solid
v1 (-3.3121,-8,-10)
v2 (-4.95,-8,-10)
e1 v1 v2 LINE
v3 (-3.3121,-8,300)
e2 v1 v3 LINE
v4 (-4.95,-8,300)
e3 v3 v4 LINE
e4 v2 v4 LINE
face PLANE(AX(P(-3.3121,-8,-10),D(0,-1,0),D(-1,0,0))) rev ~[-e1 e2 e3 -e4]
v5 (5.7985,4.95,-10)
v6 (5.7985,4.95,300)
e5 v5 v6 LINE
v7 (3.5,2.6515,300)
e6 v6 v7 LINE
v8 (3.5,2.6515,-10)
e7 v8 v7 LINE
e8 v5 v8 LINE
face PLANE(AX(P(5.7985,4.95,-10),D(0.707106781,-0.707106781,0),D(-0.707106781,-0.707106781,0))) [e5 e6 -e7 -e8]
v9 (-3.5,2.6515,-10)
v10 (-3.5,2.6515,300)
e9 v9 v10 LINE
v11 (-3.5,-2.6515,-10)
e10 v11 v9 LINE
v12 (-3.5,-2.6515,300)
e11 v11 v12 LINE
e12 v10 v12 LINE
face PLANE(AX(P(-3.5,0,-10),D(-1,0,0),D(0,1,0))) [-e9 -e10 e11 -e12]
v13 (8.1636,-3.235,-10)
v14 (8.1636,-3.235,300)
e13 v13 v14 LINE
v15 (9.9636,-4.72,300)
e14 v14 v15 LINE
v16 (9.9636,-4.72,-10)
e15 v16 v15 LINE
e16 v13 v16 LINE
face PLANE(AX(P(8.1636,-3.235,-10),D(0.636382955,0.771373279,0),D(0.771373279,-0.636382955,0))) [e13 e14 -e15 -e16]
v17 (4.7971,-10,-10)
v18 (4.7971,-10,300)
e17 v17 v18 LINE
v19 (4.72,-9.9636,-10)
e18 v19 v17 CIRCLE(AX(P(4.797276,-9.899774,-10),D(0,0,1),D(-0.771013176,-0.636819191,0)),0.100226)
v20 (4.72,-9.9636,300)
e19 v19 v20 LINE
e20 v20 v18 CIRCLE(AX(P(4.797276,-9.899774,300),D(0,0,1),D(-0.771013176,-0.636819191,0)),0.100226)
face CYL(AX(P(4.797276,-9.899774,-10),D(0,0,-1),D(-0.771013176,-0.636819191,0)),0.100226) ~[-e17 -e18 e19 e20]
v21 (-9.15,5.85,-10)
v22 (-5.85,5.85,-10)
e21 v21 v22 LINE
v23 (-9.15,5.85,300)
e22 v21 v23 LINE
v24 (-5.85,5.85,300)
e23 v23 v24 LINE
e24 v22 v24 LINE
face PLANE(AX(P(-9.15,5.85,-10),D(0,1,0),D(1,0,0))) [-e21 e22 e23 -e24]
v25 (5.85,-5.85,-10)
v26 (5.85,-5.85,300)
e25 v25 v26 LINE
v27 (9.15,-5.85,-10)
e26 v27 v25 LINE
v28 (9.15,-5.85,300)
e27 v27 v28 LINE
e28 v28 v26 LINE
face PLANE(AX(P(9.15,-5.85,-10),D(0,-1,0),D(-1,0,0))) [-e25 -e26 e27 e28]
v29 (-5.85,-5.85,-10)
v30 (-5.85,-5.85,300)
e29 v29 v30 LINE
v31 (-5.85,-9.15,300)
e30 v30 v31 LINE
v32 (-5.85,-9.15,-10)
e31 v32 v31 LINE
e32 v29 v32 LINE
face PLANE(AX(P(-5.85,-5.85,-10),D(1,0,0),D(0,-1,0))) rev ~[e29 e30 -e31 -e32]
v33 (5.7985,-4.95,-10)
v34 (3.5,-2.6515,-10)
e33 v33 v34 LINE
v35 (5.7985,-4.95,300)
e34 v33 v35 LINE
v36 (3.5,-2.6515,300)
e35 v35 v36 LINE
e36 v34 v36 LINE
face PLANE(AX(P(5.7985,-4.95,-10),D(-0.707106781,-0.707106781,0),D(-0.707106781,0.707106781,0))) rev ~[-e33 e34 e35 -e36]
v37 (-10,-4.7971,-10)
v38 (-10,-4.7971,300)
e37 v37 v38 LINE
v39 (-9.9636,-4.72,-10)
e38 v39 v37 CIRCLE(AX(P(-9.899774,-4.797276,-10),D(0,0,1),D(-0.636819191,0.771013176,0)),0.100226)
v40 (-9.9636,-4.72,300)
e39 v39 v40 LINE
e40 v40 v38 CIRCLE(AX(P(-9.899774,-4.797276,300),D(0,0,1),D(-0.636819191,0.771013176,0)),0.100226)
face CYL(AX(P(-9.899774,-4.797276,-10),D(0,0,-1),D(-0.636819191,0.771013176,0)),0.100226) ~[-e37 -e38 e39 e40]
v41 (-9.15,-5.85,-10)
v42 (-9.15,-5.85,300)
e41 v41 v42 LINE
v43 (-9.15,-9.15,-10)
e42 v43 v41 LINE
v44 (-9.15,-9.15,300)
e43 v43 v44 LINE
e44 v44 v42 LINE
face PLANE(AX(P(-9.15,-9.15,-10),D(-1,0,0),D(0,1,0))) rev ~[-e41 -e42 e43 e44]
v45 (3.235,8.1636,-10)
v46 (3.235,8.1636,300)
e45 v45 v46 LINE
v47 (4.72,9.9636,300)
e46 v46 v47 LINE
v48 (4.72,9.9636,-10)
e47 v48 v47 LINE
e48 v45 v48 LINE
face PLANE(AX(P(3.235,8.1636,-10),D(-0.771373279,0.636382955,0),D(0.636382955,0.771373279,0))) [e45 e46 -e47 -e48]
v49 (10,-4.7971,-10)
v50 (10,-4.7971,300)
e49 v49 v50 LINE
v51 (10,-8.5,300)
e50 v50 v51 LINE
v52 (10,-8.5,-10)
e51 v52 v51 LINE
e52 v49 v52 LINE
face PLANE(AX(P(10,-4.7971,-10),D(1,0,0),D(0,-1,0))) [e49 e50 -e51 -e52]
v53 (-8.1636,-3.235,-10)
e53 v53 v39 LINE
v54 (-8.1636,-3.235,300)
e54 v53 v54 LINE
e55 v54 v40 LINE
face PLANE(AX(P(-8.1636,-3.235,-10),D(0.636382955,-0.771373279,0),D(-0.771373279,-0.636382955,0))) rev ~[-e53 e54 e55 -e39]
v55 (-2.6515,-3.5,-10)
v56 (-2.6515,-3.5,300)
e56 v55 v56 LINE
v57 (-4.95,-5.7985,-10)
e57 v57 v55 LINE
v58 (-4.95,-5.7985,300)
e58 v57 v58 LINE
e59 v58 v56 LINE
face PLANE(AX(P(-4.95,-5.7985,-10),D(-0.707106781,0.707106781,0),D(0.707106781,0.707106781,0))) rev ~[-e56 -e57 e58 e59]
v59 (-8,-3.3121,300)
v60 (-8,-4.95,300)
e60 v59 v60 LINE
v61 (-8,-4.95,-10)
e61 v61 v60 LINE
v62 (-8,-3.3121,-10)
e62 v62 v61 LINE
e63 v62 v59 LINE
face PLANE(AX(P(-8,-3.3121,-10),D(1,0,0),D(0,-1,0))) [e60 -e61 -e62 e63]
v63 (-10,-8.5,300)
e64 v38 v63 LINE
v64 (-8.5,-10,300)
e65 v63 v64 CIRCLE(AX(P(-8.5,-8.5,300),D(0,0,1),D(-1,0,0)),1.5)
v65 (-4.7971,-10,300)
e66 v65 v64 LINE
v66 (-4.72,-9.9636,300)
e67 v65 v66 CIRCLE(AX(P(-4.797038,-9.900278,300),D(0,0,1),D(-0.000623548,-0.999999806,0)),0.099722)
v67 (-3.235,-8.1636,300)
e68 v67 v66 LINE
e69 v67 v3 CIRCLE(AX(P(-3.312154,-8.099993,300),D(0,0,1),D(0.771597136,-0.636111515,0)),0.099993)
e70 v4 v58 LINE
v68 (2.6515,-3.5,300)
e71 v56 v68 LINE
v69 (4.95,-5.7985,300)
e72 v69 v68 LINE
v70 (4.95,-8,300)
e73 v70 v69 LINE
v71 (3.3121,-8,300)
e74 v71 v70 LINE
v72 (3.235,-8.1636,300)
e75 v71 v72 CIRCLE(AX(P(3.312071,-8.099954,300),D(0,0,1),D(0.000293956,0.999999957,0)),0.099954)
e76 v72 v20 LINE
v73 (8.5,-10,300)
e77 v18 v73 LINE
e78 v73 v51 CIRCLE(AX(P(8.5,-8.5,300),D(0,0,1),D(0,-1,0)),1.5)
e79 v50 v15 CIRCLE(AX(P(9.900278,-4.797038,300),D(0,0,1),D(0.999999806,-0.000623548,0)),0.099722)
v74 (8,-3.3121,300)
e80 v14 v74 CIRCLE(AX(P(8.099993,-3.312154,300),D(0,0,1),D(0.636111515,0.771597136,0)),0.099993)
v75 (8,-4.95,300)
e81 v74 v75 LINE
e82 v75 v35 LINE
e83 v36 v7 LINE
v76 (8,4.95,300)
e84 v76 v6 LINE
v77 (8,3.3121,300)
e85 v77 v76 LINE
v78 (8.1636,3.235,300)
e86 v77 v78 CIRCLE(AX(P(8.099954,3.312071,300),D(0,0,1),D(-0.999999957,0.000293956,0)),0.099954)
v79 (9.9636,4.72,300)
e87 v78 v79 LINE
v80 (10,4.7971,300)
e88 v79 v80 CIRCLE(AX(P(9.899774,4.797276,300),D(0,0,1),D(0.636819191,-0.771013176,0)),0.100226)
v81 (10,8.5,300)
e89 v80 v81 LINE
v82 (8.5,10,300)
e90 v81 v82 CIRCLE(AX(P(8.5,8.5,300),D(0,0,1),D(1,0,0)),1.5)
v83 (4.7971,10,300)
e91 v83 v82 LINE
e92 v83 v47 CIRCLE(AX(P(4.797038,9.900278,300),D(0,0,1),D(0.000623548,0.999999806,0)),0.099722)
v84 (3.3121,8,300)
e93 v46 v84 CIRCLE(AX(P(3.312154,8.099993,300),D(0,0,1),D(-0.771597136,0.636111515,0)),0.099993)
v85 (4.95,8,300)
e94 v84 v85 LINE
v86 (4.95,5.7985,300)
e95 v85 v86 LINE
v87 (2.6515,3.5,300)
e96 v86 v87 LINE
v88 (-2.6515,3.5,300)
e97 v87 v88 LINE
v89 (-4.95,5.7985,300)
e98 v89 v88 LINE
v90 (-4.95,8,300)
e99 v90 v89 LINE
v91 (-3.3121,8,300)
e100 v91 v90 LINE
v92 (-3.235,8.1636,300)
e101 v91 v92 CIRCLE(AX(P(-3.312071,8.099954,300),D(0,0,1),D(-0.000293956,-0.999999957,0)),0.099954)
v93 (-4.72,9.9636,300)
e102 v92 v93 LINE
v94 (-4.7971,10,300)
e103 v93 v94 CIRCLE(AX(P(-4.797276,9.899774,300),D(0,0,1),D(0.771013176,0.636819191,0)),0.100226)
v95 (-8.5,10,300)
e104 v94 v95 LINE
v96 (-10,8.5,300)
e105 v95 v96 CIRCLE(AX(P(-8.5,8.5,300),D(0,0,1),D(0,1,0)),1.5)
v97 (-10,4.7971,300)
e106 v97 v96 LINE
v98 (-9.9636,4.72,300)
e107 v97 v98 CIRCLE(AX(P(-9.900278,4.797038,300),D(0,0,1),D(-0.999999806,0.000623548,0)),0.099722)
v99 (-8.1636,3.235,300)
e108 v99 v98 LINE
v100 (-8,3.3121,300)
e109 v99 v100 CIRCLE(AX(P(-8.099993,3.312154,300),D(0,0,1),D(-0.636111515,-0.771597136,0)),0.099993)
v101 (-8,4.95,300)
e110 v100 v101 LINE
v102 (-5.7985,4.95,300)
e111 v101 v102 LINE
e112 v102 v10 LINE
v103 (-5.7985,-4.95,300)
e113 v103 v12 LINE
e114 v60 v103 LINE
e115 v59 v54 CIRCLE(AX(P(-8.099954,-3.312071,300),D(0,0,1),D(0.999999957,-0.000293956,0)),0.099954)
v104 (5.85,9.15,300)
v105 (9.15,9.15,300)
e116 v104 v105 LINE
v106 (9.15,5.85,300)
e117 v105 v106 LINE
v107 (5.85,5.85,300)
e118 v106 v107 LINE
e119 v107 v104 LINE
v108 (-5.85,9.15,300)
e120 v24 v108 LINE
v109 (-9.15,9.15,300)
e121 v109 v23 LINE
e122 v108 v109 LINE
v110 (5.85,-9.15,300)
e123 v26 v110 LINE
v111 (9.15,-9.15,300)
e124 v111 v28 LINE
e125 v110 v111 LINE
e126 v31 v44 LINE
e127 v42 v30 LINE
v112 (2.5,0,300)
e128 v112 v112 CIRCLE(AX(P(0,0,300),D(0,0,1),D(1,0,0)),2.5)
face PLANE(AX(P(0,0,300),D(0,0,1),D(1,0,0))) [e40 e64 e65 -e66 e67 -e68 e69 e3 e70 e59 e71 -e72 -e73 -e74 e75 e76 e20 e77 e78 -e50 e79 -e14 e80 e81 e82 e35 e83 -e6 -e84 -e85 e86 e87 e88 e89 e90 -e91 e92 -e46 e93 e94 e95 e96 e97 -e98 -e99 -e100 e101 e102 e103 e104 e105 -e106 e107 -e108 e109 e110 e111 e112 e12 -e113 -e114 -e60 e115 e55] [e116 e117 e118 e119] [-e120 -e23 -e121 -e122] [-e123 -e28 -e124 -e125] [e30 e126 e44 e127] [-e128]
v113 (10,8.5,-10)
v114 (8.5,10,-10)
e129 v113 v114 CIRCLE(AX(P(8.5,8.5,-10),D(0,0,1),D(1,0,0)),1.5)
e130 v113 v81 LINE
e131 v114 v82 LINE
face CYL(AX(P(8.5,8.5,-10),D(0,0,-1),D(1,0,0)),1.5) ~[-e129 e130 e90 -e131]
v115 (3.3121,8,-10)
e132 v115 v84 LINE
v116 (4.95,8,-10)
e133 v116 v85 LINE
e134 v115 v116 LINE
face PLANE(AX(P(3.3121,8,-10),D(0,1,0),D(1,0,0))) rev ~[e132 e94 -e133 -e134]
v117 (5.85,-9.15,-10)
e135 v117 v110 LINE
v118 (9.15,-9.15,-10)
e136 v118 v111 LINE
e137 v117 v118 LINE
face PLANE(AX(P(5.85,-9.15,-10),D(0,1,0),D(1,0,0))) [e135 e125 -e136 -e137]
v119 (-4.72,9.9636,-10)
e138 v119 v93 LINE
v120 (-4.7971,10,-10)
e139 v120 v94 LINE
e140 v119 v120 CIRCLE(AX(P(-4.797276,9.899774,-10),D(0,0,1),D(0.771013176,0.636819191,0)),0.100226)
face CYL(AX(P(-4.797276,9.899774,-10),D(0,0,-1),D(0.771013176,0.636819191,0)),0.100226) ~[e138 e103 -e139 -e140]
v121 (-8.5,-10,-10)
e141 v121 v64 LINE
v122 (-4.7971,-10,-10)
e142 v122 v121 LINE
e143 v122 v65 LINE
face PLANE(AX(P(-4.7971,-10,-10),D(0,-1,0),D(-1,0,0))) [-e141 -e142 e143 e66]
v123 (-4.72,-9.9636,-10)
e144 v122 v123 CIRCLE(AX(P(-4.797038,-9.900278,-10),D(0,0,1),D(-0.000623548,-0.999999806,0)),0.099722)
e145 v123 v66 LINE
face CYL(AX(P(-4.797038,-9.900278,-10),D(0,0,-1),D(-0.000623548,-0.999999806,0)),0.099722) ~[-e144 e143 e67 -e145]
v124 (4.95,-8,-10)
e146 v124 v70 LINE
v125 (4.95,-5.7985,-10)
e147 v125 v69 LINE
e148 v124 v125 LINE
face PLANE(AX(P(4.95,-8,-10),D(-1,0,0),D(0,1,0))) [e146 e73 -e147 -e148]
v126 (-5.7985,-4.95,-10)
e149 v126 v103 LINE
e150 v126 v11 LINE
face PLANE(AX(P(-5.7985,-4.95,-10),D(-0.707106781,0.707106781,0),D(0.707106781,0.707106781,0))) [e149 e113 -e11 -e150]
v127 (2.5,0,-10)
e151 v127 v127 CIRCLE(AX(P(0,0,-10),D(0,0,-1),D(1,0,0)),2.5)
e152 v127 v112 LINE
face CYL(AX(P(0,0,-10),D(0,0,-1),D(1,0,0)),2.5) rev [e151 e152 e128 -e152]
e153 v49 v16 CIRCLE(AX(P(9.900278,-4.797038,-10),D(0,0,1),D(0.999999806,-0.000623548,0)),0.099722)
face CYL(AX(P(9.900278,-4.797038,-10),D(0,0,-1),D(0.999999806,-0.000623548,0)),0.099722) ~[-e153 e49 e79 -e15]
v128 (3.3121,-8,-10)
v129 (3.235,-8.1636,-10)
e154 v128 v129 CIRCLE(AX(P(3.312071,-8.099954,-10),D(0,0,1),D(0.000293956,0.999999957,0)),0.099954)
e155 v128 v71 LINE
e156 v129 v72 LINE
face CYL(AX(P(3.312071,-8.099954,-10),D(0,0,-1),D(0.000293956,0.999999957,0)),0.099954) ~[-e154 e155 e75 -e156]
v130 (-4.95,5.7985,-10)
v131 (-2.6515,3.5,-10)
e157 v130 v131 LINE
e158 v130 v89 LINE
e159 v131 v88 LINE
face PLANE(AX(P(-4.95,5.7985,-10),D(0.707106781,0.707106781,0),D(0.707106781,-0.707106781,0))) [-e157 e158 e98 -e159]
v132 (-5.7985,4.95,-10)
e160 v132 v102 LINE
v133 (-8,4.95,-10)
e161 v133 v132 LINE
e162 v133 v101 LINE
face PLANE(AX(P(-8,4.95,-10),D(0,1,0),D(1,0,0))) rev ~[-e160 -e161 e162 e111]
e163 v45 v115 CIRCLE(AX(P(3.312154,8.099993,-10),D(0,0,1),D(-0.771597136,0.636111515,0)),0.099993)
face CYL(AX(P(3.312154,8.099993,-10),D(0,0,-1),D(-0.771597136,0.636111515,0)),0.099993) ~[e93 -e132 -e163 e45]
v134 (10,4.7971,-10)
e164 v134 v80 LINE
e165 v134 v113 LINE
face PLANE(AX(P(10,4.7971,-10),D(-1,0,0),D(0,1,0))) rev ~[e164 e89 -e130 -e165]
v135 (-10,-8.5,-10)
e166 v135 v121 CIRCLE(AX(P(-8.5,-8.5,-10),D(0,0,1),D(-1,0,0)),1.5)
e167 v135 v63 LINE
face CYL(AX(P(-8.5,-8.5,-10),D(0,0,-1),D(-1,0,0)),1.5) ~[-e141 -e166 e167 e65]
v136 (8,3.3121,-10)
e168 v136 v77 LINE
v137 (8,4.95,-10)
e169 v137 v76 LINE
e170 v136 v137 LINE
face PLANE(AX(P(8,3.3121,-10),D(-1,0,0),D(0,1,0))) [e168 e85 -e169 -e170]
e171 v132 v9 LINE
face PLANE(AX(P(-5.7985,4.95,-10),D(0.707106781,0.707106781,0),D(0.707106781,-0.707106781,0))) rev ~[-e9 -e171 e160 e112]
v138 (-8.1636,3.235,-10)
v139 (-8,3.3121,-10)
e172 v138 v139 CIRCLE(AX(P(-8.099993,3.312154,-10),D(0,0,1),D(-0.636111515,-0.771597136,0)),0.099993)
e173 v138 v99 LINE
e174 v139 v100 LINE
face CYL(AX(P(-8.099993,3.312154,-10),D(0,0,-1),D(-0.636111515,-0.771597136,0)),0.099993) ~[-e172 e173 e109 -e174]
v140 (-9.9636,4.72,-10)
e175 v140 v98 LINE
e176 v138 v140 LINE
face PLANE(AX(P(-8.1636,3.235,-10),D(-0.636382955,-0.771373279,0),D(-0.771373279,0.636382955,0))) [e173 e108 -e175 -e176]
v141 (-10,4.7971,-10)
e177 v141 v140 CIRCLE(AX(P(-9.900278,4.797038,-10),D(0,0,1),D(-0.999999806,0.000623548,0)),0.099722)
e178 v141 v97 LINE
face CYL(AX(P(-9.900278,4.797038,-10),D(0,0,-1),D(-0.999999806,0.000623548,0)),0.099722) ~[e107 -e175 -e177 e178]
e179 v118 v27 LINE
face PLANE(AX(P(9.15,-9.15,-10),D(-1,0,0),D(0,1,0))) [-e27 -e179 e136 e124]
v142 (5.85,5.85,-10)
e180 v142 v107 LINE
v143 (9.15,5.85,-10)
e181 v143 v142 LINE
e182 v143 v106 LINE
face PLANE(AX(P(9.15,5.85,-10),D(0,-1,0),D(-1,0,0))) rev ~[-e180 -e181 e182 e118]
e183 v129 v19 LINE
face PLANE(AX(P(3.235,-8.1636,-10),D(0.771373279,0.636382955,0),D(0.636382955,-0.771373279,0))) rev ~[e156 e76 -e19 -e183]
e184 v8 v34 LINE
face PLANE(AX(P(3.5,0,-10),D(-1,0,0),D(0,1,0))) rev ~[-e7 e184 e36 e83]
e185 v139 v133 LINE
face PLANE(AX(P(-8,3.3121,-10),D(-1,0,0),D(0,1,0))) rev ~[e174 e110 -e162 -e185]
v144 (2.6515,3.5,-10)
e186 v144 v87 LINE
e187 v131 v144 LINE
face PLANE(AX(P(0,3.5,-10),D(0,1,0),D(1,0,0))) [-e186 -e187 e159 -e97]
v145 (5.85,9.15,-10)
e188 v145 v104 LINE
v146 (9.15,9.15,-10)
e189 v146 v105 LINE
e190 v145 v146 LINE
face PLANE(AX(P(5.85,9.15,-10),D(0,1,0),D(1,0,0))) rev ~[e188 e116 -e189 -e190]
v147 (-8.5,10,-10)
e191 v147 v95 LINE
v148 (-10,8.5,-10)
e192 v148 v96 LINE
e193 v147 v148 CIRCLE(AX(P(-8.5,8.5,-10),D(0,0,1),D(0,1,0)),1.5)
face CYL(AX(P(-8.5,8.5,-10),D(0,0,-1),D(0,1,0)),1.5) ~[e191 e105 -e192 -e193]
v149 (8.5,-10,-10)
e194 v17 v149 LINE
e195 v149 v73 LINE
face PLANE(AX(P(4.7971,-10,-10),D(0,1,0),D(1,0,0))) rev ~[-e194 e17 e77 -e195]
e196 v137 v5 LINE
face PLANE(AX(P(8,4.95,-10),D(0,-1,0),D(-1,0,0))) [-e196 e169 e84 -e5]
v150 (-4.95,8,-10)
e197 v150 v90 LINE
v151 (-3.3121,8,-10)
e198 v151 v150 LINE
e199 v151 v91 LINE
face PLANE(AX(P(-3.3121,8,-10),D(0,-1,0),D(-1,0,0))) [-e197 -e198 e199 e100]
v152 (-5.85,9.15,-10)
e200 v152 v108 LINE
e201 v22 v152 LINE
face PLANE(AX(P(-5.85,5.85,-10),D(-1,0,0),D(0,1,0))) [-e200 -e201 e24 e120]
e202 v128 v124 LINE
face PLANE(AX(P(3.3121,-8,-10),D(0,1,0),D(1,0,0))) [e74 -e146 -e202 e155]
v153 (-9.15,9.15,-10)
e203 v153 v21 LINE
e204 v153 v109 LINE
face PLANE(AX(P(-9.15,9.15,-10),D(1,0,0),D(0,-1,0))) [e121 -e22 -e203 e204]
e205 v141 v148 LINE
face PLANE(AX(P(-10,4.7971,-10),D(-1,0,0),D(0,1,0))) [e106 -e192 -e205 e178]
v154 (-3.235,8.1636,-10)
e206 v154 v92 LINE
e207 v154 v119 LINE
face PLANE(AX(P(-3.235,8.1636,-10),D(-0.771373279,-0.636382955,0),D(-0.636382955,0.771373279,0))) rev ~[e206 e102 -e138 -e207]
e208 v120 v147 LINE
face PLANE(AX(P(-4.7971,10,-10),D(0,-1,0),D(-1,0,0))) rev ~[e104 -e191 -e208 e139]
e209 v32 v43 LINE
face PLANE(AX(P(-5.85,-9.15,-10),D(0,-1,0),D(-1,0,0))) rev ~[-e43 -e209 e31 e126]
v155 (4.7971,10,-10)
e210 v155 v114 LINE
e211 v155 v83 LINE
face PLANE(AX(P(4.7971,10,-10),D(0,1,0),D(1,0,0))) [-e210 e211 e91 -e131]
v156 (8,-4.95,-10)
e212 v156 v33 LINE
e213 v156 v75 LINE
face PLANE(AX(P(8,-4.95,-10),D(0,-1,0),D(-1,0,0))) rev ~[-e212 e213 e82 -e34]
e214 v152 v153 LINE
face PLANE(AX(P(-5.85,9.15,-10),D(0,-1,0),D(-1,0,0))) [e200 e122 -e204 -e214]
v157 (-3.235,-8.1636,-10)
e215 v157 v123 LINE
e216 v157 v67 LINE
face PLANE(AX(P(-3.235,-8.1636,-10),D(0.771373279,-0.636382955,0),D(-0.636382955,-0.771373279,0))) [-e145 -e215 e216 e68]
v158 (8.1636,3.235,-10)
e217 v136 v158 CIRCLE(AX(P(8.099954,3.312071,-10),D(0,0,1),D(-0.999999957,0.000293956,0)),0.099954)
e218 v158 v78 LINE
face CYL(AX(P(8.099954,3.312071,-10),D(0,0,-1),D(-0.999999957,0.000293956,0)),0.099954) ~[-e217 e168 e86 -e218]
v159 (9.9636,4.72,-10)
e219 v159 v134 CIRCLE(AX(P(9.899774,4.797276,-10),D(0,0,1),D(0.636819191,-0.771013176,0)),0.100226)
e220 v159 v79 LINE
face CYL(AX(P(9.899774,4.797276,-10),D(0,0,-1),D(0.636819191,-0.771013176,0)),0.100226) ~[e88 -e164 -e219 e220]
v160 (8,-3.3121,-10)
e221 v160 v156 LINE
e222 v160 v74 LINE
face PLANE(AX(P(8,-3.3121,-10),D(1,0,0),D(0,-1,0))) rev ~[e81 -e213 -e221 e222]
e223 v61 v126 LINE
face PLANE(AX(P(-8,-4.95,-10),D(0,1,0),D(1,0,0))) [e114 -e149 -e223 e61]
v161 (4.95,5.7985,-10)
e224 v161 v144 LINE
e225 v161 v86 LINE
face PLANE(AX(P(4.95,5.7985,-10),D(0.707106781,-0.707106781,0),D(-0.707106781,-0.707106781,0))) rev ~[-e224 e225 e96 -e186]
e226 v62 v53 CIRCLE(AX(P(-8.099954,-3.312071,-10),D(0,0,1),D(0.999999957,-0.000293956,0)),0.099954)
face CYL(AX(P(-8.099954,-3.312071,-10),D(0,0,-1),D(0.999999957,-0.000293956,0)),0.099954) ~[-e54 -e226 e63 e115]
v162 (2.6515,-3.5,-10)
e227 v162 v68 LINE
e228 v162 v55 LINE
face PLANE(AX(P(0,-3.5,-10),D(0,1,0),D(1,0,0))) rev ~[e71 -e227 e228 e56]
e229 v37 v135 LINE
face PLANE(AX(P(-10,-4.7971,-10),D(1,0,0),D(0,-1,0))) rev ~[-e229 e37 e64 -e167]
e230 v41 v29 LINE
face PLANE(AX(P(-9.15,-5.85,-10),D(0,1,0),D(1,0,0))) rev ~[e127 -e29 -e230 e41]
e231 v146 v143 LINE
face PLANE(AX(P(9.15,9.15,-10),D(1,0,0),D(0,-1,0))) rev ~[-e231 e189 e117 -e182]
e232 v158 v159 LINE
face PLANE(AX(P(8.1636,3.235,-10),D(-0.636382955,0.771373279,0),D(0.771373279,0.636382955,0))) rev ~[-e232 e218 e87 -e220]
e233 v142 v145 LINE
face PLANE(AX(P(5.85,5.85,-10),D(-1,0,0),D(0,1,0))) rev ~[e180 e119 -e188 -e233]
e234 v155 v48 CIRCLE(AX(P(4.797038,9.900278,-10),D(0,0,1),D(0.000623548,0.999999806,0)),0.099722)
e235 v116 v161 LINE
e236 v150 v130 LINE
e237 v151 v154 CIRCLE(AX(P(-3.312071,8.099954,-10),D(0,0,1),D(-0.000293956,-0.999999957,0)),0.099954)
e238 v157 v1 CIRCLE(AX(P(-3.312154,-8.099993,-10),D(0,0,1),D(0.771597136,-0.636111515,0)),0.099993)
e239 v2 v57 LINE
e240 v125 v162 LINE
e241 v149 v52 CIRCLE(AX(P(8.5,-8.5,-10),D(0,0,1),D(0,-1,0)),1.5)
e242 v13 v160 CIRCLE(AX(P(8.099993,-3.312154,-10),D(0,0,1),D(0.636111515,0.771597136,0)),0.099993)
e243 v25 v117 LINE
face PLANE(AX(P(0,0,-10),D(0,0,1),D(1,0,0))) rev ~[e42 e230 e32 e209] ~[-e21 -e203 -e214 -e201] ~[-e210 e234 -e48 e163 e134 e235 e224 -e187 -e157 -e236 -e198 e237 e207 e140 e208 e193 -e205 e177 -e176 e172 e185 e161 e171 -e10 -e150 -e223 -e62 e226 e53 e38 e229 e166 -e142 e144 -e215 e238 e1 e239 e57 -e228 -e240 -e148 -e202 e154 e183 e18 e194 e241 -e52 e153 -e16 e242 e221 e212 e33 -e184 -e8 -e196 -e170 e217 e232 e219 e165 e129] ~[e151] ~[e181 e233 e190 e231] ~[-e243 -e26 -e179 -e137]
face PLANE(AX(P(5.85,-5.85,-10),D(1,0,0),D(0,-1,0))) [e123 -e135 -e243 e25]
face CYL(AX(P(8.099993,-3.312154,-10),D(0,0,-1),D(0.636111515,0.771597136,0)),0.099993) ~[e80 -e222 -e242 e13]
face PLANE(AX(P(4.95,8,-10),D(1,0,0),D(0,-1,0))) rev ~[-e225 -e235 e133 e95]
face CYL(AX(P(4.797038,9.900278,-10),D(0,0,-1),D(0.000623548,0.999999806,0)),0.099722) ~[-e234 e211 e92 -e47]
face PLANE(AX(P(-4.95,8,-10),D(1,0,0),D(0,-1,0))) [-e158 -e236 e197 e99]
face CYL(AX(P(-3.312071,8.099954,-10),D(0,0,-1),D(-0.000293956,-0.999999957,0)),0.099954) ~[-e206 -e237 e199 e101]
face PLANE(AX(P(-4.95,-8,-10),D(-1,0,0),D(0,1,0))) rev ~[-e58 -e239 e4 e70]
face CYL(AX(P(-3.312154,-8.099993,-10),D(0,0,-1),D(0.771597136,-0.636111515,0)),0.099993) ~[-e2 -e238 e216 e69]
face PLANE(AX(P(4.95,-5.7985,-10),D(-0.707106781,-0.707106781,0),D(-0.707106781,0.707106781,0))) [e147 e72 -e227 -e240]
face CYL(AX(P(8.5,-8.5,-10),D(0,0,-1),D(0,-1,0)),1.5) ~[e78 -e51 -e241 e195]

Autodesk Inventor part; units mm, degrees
ref_plane "Начальная плоскость" through (0, 0, -10) normal (0, 0, 1) x (1, 0, 0)
ref_plane "Конечная плоскость" through (0, 0, 300) normal (0, 0, 1) x (1, 0, 0)
sketch "Эскиз" plane through (0, 0, 0) normal (0, 0, 1) x (1, 0, 0)
  line L0 (-14.4349, 0) -> (14.4349, 0) projected
  line L1 (0, -14) -> (0, 14) projected
  line L2 (0, 0) -> (7.5, 7.5) construction
  circle A0 centre (7.5, 7.5) radius 1.65 construction
  line L3 (5.85, 9.15) -> (9.15, 9.15)
  line L4 (9.15, 9.15) -> (9.15, 5.85)
  line L5 (9.15, 5.85) -> (5.85, 5.85)
  line L6 (5.85, 5.85) -> (5.85, 9.15)
  line L7 (3.235, 8.1636) -> (4.72, 9.9636)
  line L8 (4.7971, 10) -> (8.5, 10)
  line L9 (3.3121, 8) -> (4.95, 8)
  line L10 (4.95, 8) -> (4.95, 5.7985)
  line L11 (4.95, 5.7985) -> (2.6515, 3.5)
  line L12 (0, 3.5) -> (2.6515, 3.5)
  circle A1 centre (0, 0) radius 2.5
  line L13 (8.1636, 3.235) -> (9.9636, 4.72)
  line L14 (10, 4.7971) -> (10, 8.5)
  line L15 (8, 3.3121) -> (8, 4.95)
  line L16 (8, 4.95) -> (5.7985, 4.95)
  line L17 (5.7985, 4.95) -> (3.5, 2.6515)
  line L18 (3.5, 0) -> (3.5, 2.6515)
  arc A2 (10, 8.5) -> (8.5, 10) centre (8.5, 8.5) ccw
  line L19 (0, 0) -> (-7.5, 7.5) construction
  circle A3 centre (-7.5, 7.5) radius 1.65 construction
  line L20 (-5.85, 9.15) -> (-9.15, 9.15)
  line L21 (-9.15, 9.15) -> (-9.15, 5.85)
  line L22 (-9.15, 5.85) -> (-5.85, 5.85)
  line L23 (-5.85, 5.85) -> (-5.85, 9.15)
  line L24 (-3.235, 8.1636) -> (-4.72, 9.9636)
  line L25 (-4.7971, 10) -> (-8.5, 10)
  line L26 (-3.3121, 8) -> (-4.95, 8)
  line L27 (-4.95, 8) -> (-4.95, 5.7985)
  line L28 (-4.95, 5.7985) -> (-2.6515, 3.5)
  line L29 (0, 3.5) -> (-2.6515, 3.5)
  line L30 (-3.5, 0) -> (-3.5, 2.6515)
  line L31 (-5.7985, 4.95) -> (-3.5, 2.6515)
  line L32 (-8, 4.95) -> (-5.7985, 4.95)
  line L33 (-8, 3.3121) -> (-8, 4.95)
  line L34 (-8.1636, 3.235) -> (-9.9636, 4.72)
  line L35 (-10, 4.7971) -> (-10, 8.5)
  arc A4 (-8.5, 10) -> (-10, 8.5) centre (-8.5, 8.5) ccw
  line L36 (0, 14) -> (0, -14)
  line L37 (0, 0) -> (7.5, -7.5) construction
  circle A5 centre (7.5, -7.5) radius 1.65 construction
  line L38 (5.85, -9.15) -> (9.15, -9.15)
  line L39 (9.15, -9.15) -> (9.15, -5.85)
  line L40 (9.15, -5.85) -> (5.85, -5.85)
  line L41 (5.85, -5.85) -> (5.85, -9.15)
  line L42 (3.235, -8.1636) -> (4.72, -9.9636)
  line L43 (4.7971, -10) -> (8.5, -10)
  line L44 (3.3121, -8) -> (4.95, -8)
  line L45 (4.95, -8) -> (4.95, -5.7985)
  line L46 (4.95, -5.7985) -> (2.6515, -3.5)
  line L47 (0, -3.5) -> (2.6515, -3.5)
  line L48 (3.5, 0) -> (3.5, -2.6515)
  line L49 (5.7985, -4.95) -> (3.5, -2.6515)
  line L50 (8, -4.95) -> (5.7985, -4.95)
  line L51 (8, -3.3121) -> (8, -4.95)
  line L52 (8.1636, -3.235) -> (9.9636, -4.72)
  line L53 (10, -4.7971) -> (10, -8.5)
  arc A6 (8.5, -10) -> (10, -8.5) centre (8.5, -8.5) ccw
  line L54 (0, 0) -> (-7.5, -7.5) construction
  line L55 (-4.95, -8) -> (-4.95, -5.7985)
  line L56 (-3.3121, -8) -> (-4.95, -8)
  line L57 (-5.7985, -4.95) -> (-3.5, -2.6515)
  line L58 (-4.95, -5.7985) -> (-2.6515, -3.5)
  line L59 (-3.5, 0) -> (-3.5, -2.6515)
  line L60 (0, -3.5) -> (-2.6515, -3.5)
  circle A7 centre (-7.5, -7.5) radius 1.65 construction
  line L61 (-5.85, -5.85) -> (-5.85, -9.15)
  line L62 (-5.85, -9.15) -> (-9.15, -9.15)
  line L63 (-9.15, -9.15) -> (-9.15, -5.85)
  line L64 (-9.15, -5.85) -> (-5.85, -5.85)
  line L65 (-3.235, -8.1636) -> (-4.72, -9.9636)
  line L66 (-8, -4.95) -> (-5.7985, -4.95)
  line L67 (-8, -3.3121) -> (-8, -4.95)
  line L68 (-8.1636, -3.235) -> (-9.9636, -4.72)
  line L69 (-4.7971, -10) -> (-8.5, -10)
  line L70 (-10, -4.7971) -> (-10, -8.5)
  arc A8 (-10, -8.5) -> (-8.5, -10) centre (-8.5, -8.5) ccw
  arc A9 (3.235, 8.1636) -> (3.3121, 8) centre (3.3121, 8.1) ccw
  arc A10 (4.7971, 10) -> (4.72, 9.9636) centre (4.7971, 9.9) ccw
  arc A11 (8, 3.3121) -> (8.1636, 3.235) centre (8.1, 3.3121) ccw
  arc A12 (9.9636, 4.72) -> (10, 4.7971) centre (9.9, 4.7971) ccw
  arc A13 (-3.3121, 8) -> (-3.235, 8.1636) centre (-3.3121, 8.1) ccw
  arc A14 (-4.72, 9.9636) -> (-4.7971, 10) centre (-4.7971, 9.9) ccw
  arc A15 (-8.1636, 3.235) -> (-8, 3.3121) centre (-8.1, 3.3121) ccw
  arc A16 (-10, 4.7971) -> (-9.9636, 4.72) centre (-9.9, 4.7971) ccw
  arc A17 (-8, -3.3121) -> (-8.1636, -3.235) centre (-8.1, -3.3121) ccw
  arc A18 (-9.9636, -4.72) -> (-10, -4.7971) centre (-9.9, -4.7971) ccw
  arc A19 (-3.235, -8.1636) -> (-3.3121, -8) centre (-3.3121, -8.1) ccw
  arc A20 (-4.7971, -10) -> (-4.72, -9.9636) centre (-4.7971, -9.9) ccw
  arc A21 (4.72, -9.9636) -> (4.7971, -10) centre (4.7971, -9.9) ccw
  arc A22 (3.3121, -8) -> (3.235, -8.1636) centre (3.3121, -8.1) ccw
  arc A23 (8.1636, -3.235) -> (8, -3.3121) centre (8.1, -3.3121) ccw
  arc A24 (10, -4.7971) -> (9.9636, -4.72) centre (9.9, -4.7971) ccw
  point P0 (3.1, 8)
  point P1 (4.75, 10)
  point P2 (7.5, 9.15)
  point P3 (8, 3.1)
  point P4 (10, 4.75)
  point P5 (7.5, 5.85)
  point P6 (9.15, 7.5)
  point P7 (-3.1, 8)
  point P8 (-4.75, 10)
  point P9 (-7.5, 9.15)
  point P10 (-8, 3.1)
  point P11 (-10, 4.75)
  point P12 (-7.5, 5.85)
  point P13 (-9.15, 7.5)
  point P14 (3.1, -8)
  point P15 (4.75, -10)
  point P16 (7.5, -9.15)
  point P17 (8, -3.1)
  point P18 (10, -4.75)
  point P19 (7.5, -5.85)
  point P20 (9.15, -7.5)
  point P21 (-3.1, -8)
  point P22 (-7.5, -5.85)
  point P23 (-7.5, -9.15)
  point P24 (-9.15, -7.5)
  point P25 (-4.75, -10)
  point P26 (-8, -3.1)
  point P27 (-10, -4.75)
  dimension "d0" = 45
  dimension "d1" = 3.3
  dimension "d2" = 1.5
  dimension "d3" = 1.2
  dimension "d4" = 5
  dimension "d5" = 6.5
  dimension "d6" = 15
  dimension "d7" = 20
  dimension "d8" = 9.9
  dimension "d9" = 9.5
  dimension "d10" = 6.2
  dimension "d11" = 2
  dimension "d18" = 0.1
  dimension "d19" = 0.1
extrude "Тело" add sketch "Эскиз" along normal up to surface (310 mm away) from surface at -10 contours A1 L1 L12 L11 L10 L9 A9 L7 A10 L8 A2 L14 A12 L13 A11 L15 L16 L17 L18 L0 | L0 L48 L49 L50 L51 A23 L52 A24 L53 A6 L43 A21 L42 A22 L44 L45 L46 L47 L1 A1 | A1 L0 L30 L31 L32 L33 A15 L34 A16 L35 A4 L25 A14 L24 A13 L26 L27 L28 L29 L1 | L1 L60 L58 L55 L56 A19 L65 A20 L69 A8 L70 A18 L68 A17 L67 L66 L57 L59 L0 A1
sketch "Эскиз2" plane through (0, 0, 0) normal (0, 0, 1) x (1, 0, 0)
  line L0 (0, 0) -> (10, 0)
ref_plane "РабПлоскость3" through (0, 0, 0) normal (0, -1, 0) x (1, 0, 0)
sketch "Эскиз3" plane through (0, 0, 0) normal (0, -1, 0) x (1, 0, 0)
  line L0 (-2, -10) -> (12, -10)
  line L1 (-2, 300) -> (12, 300)
  dimension "d25" = 310
ref_plane "РабПлоскость4" through (0, 0, -10) normal (0, 0, -1) x (-1, 0, 0)
split "Разделение1" plane through (0, 0, -10) removes the side toward (0, 0, -1)
ref_plane "РабПлоскость5" through (50, 0, -10) normal (0, 0, -1) x (-1, 0, 0)
split "Разделение2" plane through (50, 0, -10) removes the side toward (0, 0, -1)
ref_plane "РабПлоскость6" through (50, 0, 300) normal (0, 0, 1) x (1, 0, 0)
split "Разделение3" plane through (50, 0, 300) removes the side toward (0, 0, 1)
ref_plane "РабПлоскость7" through (0, 0, 300) normal (0, 0, 1) x (1, 0, 0)
split "Разделение4" plane through (0, 0, 300) removes the side toward (0, 0, 1)
properties part number "короткая палка"
